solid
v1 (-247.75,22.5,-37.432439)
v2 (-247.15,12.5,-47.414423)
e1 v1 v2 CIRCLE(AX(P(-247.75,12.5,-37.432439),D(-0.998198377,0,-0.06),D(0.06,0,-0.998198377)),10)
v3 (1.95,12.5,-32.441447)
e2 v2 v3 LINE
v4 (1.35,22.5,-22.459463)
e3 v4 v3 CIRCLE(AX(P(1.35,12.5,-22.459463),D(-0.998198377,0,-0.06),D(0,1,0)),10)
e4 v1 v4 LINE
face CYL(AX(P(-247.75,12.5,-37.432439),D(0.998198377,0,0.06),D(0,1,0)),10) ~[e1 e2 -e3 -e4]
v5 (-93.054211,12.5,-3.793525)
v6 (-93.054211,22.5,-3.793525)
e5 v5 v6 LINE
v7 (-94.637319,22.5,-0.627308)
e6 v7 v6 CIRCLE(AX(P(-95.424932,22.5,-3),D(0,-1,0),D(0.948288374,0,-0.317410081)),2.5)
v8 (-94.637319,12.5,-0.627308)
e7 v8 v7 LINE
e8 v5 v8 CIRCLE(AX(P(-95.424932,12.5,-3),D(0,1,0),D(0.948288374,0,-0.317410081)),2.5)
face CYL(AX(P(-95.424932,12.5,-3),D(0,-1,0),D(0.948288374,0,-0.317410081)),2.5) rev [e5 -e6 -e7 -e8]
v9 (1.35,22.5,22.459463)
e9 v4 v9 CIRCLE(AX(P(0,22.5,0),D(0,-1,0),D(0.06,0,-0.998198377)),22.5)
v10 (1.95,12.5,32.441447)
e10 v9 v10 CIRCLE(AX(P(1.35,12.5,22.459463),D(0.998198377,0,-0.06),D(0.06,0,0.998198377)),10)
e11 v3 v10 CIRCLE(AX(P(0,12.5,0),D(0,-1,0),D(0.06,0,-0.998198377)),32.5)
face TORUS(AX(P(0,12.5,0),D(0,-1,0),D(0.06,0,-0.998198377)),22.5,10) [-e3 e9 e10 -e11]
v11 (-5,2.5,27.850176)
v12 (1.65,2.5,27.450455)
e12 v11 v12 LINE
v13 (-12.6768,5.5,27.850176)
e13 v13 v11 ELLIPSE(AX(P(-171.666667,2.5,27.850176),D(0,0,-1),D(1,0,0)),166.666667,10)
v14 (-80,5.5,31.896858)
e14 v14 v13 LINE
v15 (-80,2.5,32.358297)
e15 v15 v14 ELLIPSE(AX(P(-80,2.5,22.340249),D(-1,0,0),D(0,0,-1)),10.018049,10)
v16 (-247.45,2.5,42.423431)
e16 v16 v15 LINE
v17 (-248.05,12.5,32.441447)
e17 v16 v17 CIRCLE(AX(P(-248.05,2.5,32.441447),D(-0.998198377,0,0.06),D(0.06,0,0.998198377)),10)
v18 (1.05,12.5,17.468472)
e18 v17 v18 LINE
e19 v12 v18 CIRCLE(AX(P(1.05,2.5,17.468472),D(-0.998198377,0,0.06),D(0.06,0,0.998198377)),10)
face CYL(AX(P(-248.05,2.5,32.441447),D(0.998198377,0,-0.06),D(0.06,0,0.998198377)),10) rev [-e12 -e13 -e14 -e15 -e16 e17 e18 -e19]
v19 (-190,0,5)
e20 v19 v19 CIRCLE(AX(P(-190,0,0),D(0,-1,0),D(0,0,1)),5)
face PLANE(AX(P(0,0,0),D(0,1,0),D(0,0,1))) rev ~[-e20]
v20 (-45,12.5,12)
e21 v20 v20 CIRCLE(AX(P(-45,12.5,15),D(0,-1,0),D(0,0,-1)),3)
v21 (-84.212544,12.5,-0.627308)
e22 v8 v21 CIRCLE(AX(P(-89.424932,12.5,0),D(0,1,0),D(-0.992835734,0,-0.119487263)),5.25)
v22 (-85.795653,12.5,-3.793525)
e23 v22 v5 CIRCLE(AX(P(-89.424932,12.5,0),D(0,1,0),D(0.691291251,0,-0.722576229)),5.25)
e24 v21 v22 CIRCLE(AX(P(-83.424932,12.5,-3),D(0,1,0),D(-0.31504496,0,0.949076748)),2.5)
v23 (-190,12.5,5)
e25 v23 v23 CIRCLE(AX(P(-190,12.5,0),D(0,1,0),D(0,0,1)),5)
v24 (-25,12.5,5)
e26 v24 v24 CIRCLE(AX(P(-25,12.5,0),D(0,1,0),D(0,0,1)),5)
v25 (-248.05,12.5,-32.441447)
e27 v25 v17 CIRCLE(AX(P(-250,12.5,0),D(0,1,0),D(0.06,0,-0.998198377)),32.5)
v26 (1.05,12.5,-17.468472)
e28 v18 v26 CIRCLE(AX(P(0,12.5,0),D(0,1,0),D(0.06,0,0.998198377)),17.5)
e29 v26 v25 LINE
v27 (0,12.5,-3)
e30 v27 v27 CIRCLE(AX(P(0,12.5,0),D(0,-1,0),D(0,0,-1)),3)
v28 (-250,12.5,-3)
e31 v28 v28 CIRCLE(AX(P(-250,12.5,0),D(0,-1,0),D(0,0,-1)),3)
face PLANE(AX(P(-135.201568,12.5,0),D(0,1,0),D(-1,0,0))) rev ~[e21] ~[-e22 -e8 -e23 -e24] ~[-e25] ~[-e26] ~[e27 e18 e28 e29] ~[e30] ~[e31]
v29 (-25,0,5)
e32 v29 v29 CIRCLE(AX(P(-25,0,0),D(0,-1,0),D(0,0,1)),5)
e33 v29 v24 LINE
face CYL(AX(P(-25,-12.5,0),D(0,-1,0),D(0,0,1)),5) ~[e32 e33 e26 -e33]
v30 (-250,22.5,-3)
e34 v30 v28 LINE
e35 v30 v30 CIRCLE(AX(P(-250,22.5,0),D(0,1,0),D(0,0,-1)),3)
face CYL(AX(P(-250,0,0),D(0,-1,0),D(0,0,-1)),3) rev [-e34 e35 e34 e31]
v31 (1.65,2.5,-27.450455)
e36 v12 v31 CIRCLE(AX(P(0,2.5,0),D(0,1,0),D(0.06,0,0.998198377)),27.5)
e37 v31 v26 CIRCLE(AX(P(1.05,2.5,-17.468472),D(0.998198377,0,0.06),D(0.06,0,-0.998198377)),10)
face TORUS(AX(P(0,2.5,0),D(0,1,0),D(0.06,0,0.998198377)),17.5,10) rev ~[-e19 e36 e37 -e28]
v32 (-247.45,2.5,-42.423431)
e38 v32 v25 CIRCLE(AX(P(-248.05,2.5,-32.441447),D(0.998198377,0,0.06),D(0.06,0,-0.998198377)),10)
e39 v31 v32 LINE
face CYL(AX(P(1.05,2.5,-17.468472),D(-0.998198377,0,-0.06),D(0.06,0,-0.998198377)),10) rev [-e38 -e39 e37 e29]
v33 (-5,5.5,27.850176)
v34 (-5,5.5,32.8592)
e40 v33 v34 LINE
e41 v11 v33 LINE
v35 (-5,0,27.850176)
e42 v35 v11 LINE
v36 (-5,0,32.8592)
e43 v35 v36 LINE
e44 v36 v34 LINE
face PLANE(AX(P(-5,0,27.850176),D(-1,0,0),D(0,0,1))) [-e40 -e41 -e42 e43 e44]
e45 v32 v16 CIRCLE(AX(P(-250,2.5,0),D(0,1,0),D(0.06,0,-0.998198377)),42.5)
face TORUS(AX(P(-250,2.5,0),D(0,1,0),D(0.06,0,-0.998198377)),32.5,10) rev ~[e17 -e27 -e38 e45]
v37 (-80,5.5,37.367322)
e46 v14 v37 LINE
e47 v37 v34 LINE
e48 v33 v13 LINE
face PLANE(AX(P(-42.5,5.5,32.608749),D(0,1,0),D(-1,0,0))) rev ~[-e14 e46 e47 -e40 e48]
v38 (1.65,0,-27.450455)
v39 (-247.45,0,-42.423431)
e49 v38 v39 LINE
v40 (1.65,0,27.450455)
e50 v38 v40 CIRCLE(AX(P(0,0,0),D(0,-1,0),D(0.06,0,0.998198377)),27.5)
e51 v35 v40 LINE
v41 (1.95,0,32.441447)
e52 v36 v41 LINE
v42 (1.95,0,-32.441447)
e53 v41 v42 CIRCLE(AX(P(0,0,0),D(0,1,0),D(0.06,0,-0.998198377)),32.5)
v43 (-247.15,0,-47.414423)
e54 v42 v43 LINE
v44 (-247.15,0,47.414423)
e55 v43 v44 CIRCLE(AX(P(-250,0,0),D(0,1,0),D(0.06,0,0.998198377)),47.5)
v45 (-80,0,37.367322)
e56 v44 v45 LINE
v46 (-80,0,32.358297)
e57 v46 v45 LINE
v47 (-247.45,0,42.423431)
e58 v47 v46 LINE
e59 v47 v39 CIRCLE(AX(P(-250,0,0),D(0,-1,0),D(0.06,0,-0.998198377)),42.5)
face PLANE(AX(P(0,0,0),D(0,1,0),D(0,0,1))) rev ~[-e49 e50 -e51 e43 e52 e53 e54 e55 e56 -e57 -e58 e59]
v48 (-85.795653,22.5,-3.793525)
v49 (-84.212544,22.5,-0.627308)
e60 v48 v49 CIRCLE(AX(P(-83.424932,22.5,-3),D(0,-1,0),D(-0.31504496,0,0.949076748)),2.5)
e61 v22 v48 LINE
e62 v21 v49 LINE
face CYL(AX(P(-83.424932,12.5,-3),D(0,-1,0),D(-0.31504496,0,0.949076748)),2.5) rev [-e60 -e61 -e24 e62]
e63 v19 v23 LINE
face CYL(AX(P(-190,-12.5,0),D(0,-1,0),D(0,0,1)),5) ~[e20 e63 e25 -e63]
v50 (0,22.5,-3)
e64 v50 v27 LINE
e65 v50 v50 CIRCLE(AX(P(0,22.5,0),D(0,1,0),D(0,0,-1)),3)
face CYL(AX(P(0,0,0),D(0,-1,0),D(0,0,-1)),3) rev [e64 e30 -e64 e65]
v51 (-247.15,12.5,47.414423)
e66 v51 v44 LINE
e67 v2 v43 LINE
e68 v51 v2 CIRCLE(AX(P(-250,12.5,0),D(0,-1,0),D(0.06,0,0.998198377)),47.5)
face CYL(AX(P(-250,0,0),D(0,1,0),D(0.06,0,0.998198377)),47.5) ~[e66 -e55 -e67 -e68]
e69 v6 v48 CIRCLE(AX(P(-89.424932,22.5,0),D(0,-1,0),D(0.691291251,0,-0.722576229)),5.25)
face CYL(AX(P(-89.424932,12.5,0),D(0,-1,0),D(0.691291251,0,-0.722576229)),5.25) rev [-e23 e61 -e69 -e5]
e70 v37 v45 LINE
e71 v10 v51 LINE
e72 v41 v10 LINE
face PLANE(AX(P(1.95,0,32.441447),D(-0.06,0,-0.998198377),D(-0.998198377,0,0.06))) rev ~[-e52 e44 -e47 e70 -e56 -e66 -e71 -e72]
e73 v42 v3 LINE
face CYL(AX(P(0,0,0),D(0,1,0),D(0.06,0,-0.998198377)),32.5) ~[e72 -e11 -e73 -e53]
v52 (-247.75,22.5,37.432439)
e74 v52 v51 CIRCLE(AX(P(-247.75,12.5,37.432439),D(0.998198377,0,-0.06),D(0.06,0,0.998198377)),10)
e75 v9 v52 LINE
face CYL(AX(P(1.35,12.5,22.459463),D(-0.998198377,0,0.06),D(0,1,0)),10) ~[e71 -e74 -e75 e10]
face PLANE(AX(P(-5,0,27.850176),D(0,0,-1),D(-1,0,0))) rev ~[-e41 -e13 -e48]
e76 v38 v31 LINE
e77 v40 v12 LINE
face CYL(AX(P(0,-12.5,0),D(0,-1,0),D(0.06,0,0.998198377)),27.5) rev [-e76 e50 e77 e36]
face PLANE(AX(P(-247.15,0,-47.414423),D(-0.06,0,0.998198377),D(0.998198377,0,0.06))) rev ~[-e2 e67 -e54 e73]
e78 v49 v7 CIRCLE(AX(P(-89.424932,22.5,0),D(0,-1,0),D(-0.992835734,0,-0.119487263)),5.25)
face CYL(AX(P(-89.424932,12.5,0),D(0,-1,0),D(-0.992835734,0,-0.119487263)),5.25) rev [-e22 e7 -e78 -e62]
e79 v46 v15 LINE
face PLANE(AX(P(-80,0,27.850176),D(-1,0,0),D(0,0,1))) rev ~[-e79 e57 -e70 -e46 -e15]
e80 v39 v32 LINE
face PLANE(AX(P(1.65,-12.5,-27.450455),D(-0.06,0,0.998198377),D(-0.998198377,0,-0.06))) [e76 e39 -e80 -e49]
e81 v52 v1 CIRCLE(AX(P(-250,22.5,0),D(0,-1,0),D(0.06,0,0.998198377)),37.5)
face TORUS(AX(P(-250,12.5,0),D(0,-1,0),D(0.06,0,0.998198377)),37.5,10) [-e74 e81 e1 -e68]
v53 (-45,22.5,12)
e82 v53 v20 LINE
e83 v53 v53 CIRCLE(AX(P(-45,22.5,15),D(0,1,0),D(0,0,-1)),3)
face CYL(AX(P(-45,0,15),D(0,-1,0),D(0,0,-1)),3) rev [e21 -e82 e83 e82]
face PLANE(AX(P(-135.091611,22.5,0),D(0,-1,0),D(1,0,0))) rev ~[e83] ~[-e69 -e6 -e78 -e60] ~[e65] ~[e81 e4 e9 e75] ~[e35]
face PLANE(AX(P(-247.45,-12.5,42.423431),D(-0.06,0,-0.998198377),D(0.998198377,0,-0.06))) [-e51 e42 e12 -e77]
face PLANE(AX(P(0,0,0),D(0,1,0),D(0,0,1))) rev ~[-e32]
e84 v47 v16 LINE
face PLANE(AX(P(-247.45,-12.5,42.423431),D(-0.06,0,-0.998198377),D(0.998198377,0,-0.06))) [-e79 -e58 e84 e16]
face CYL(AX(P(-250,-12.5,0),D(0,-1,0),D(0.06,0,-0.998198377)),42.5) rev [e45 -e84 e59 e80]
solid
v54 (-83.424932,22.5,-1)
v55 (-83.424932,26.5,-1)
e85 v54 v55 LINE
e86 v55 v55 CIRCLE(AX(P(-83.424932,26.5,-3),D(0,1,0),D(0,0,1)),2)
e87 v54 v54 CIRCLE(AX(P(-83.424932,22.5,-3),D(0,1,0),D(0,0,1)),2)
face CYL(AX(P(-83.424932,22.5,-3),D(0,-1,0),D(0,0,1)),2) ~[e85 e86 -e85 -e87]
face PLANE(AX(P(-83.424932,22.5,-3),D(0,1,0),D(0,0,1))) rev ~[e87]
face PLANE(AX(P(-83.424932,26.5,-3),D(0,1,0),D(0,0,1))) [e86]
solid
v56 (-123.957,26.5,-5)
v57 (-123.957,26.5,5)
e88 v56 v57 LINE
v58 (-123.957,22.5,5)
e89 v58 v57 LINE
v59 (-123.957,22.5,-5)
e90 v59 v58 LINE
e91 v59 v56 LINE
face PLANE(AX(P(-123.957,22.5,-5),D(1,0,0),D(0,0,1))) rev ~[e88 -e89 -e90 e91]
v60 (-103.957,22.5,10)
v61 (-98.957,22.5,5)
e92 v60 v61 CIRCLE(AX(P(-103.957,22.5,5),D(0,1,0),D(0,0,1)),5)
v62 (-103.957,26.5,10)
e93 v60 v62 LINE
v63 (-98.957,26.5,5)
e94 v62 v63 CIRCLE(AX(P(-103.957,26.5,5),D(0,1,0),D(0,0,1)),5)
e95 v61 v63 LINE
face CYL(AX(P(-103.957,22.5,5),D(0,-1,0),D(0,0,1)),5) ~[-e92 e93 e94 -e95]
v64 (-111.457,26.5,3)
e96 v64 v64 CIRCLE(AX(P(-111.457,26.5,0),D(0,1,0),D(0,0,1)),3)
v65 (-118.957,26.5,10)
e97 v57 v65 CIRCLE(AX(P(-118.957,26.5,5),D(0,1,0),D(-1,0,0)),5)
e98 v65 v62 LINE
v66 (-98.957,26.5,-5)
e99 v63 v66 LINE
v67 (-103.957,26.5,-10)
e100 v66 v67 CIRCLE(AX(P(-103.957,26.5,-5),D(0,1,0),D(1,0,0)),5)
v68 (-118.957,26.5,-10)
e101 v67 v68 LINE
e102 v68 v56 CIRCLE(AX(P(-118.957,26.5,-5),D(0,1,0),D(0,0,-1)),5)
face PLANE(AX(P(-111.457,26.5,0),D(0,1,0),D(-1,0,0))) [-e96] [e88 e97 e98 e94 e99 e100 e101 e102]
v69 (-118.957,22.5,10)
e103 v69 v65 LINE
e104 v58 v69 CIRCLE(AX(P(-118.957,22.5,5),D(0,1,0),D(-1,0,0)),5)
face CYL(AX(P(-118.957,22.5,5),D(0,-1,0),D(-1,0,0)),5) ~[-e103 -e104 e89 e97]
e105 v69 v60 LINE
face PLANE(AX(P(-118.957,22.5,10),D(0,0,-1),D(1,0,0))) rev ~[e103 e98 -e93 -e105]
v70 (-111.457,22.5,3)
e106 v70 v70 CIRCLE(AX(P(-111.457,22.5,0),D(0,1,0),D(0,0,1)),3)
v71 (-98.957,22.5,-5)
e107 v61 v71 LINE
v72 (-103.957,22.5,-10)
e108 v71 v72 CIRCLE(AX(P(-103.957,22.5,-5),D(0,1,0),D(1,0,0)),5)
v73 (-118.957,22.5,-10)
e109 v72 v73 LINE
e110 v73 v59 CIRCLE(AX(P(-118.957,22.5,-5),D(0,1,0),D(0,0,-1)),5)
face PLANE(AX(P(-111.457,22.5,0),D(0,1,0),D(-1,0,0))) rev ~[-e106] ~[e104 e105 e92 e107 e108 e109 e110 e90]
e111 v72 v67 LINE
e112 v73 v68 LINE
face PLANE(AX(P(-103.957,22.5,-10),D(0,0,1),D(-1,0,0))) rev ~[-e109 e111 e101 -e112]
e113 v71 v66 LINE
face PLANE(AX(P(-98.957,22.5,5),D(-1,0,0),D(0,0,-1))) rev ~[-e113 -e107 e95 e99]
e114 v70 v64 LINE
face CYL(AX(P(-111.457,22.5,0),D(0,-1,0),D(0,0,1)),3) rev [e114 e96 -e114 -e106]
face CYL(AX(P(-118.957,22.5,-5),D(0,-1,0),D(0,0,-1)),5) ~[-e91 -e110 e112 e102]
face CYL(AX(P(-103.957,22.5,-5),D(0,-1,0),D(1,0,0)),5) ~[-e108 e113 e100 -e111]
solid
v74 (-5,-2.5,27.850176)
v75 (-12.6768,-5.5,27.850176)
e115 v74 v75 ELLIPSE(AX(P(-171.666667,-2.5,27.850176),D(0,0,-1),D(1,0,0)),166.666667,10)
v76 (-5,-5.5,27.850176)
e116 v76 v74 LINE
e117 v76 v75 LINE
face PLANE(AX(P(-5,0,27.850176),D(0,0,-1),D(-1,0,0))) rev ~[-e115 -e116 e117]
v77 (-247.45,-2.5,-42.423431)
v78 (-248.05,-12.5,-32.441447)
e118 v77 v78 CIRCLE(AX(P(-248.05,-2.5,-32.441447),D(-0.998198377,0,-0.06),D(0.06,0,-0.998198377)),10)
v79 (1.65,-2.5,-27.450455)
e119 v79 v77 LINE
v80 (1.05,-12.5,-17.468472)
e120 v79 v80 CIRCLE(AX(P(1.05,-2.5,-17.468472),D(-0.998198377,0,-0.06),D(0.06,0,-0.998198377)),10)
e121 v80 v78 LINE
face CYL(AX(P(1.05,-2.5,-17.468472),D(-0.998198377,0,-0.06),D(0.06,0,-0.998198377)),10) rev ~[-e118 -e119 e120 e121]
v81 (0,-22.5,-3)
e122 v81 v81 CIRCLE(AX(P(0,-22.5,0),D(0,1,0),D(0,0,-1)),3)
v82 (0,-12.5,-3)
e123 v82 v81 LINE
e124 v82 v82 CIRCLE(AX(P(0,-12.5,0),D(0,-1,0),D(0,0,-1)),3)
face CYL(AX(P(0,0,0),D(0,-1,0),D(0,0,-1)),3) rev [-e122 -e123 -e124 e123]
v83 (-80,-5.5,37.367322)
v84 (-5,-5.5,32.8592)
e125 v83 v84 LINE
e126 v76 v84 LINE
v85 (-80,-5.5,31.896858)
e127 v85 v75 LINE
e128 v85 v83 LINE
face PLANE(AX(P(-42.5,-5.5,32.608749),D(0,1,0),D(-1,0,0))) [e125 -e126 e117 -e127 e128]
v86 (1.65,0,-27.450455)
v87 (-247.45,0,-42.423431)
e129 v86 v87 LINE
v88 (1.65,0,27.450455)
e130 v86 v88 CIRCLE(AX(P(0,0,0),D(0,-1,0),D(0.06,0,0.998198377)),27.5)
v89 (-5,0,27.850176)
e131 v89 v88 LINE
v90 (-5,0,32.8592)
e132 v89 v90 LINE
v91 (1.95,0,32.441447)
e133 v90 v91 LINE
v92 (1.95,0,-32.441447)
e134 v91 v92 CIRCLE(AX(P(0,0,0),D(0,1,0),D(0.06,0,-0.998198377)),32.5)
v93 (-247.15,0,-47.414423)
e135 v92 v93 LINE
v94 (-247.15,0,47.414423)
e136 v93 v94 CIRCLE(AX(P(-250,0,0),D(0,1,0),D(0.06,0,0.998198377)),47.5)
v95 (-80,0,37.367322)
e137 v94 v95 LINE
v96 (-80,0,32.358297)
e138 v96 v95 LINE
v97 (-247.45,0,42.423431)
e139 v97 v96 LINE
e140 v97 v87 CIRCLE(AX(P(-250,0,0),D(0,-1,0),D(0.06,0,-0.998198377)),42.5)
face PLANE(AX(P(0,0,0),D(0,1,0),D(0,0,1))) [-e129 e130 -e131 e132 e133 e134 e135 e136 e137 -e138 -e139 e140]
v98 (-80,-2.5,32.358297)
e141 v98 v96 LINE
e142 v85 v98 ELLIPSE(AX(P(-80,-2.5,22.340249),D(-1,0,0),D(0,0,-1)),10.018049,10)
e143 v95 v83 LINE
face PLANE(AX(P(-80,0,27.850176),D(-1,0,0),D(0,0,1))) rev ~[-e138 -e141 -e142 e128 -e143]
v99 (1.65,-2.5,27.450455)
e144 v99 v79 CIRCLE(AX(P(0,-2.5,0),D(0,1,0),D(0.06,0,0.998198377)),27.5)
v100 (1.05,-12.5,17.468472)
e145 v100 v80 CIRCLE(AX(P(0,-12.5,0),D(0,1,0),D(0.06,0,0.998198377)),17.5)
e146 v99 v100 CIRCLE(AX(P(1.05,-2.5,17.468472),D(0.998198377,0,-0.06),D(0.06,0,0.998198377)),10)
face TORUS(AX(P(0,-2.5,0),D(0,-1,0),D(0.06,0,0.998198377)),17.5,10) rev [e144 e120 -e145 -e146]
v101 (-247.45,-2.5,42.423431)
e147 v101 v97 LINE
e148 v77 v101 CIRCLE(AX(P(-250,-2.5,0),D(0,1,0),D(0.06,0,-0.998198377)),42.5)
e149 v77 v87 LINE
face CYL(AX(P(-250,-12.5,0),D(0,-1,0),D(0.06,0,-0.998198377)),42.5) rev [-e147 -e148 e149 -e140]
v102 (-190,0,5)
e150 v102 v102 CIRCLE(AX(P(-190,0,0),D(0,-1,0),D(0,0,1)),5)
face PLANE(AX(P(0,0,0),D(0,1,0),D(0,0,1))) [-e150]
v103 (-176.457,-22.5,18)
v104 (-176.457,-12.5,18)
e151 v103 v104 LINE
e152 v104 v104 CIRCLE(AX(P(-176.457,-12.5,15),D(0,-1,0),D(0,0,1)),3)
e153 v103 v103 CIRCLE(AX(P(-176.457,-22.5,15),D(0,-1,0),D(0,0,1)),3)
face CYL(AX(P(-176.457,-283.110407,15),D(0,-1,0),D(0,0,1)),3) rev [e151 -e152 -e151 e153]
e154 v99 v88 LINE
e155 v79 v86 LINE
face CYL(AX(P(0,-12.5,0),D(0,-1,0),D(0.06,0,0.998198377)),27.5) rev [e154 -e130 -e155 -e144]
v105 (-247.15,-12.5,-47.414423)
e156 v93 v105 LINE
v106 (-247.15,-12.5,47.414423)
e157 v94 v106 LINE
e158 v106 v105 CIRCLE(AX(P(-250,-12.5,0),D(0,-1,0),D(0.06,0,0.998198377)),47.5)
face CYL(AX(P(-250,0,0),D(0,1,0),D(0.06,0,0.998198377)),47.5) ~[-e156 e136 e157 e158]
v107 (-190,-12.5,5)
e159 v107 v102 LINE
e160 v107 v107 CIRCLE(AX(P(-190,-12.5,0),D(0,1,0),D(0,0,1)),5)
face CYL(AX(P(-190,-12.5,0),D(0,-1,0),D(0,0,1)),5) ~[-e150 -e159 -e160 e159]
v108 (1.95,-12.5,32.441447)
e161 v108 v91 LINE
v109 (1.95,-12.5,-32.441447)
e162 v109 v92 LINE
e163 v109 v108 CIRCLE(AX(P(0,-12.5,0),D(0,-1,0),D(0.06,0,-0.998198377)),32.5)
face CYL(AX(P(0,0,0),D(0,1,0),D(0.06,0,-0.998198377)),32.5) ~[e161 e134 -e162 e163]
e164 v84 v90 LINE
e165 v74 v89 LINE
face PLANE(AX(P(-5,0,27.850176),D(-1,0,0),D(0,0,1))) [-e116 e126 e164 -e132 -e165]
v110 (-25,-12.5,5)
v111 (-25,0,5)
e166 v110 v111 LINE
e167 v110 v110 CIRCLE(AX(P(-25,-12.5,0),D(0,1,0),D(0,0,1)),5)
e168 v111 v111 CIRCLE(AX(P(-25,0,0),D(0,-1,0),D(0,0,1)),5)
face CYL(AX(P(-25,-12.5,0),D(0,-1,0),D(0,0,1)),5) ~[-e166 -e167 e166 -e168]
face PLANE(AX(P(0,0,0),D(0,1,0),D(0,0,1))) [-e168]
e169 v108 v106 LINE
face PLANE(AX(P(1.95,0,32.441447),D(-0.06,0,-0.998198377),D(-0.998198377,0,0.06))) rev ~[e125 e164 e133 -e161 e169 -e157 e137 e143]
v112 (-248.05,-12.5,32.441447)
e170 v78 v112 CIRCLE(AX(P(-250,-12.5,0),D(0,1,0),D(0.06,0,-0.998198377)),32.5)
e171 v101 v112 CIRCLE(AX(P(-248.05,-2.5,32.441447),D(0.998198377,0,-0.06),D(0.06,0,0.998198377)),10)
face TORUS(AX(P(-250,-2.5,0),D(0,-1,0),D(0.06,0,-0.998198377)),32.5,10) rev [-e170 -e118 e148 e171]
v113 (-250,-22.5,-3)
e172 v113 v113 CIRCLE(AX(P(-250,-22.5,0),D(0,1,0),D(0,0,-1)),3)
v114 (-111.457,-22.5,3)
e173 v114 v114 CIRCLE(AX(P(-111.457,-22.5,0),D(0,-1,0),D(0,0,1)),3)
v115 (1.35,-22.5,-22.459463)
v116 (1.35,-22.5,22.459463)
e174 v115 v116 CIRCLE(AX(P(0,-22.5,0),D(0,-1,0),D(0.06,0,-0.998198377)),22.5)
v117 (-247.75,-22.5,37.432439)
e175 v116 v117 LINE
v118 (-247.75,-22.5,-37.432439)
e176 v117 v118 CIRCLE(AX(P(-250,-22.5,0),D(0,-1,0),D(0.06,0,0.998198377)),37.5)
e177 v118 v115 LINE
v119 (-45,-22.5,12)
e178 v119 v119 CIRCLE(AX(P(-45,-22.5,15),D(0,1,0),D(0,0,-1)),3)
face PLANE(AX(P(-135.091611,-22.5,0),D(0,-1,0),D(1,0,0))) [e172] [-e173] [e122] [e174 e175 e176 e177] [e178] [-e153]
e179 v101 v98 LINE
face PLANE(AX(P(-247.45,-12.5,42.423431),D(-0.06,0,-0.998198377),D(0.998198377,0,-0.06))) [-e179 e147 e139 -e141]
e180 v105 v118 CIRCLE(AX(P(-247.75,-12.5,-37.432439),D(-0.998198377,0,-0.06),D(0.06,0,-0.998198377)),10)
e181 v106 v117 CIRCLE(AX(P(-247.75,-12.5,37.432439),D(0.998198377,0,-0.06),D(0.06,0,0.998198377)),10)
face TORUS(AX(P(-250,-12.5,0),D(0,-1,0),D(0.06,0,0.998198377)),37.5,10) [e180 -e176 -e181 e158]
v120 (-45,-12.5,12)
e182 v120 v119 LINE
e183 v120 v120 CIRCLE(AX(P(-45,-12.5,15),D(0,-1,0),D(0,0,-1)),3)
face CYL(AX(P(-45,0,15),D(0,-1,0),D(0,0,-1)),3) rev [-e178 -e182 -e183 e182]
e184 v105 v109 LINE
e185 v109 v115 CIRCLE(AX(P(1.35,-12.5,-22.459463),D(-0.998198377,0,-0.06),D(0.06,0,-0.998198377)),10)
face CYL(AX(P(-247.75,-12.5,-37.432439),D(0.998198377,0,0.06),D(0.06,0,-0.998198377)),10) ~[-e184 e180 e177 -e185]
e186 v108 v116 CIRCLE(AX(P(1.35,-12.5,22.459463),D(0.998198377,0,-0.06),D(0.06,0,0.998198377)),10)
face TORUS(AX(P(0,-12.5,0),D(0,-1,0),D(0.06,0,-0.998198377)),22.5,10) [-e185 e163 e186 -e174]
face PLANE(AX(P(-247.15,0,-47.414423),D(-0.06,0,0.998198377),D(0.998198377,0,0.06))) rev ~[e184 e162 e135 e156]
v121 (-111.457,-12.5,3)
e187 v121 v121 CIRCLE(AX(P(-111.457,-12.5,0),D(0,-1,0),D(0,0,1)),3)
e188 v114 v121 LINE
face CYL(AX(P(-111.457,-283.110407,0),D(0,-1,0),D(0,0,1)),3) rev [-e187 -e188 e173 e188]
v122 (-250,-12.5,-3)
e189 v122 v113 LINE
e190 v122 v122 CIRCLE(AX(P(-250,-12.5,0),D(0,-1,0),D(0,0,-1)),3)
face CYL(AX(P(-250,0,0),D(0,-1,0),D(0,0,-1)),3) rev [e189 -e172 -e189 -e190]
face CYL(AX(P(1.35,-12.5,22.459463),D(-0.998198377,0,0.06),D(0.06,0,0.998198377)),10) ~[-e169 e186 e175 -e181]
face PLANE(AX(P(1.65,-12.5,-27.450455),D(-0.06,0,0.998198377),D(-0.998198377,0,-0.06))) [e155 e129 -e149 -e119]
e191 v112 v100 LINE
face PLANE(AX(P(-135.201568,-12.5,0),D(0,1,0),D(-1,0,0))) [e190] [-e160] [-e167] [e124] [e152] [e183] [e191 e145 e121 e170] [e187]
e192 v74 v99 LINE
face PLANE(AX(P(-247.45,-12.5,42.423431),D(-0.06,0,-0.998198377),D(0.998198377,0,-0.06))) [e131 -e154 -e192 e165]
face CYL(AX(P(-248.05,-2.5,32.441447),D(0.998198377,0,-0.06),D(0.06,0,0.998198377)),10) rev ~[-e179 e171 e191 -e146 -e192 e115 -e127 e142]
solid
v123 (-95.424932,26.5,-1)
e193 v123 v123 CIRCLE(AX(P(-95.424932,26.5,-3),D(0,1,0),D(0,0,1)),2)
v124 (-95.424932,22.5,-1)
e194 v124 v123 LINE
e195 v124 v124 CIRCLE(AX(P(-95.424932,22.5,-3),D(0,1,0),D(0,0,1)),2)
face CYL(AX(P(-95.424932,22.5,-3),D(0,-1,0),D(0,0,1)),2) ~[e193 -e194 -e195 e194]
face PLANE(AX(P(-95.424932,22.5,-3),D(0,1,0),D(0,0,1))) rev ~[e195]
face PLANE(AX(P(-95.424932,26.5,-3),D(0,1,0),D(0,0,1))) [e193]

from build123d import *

# Parameters (mm, degrees)
CROQUIS1_R                 = 3
SALIENTE_EXTRUIR1_DEPTH    = 22.5
CORTAR_EXTRUIR1_DEPTH      = 12.5
CORTAR_EXTRUIR1_DEPTH_BACK = 12.5
CROQUIS2_R                 = 5
REDONDEO4_R                = 10
REDONDEO5_R                = 10
CROQUIS4_W                 = 75
CROQUIS4_H                 = 9.517146309
CORTAR_EXTRUIR2_DEPTH      = 5.5
CORTAR_EXTRUIR3_DEPTH      = 305.610407027
CORTAR_EXTRUIR3_DEPTH_BACK = 305.610407027
CROQUIS5_R                 = 3
CORTAR_EXTRUIR4_DEPTH      = 305.610407027
CORTAR_EXTRUIR4_DEPTH_BACK = 10
CROQUIS8_R                 = 2
SALIENTE_EXTRUIR2_DEPTH    = 4
SALIENTE_EXTRUIR2_2_DEPTH  = 4
CROQUIS8_R_2               = 3
SALIENTE_EXTRUIR2_3_DEPTH  = 4


with BuildPart() as part:
    # Croquis1 → Saliente-Extruir1 (new, symmetric)
    with BuildSketch(Plane(origin=(0, 0, 0), x_dir=(-1, 0, 0), z_dir=(0, 1, 0))):
        with BuildLine():
            Line((-1.95, 32.441447255), (247.15, 47.414422911))
            ThreePointArc((247.15, 47.414422911), (297.5, 0), (247.15, -47.414422911))
            Line((247.15, -47.414422911), (-1.95, -32.441447255))
            ThreePointArc((-1.95, -32.441447255), (-32.5, 0), (-1.95, 32.441447255))
        make_face()
        with Locations(Location((0, 0, 0), (0, 0, 270))):
            Circle(CROQUIS1_R, mode=Mode.SUBTRACT)
        with Locations(Location((250, 0, 0), (0, 0, 270))):
            Circle(CROQUIS1_R, mode=Mode.SUBTRACT)
        with Locations(Location((45, 15, 0), (0, 0, 270))):
            Circle(CROQUIS1_R, mode=Mode.SUBTRACT)
    extrude(amount=SALIENTE_EXTRUIR1_DEPTH, both=True)

    # Croquis2 → Cortar-Extruir1 (cut, two sides: drawn at the far end of the back side and taken through both)
    with BuildSketch(Plane(origin=(0, 0, 0), x_dir=(-1, 0, 0), z_dir=(0, 1, 0)).offset(-CORTAR_EXTRUIR1_DEPTH_BACK)):
        with BuildLine():
            Line((-1.65, -27.45045537), (247.45, -42.423431026))
            ThreePointArc((247.45, -42.423431026), (292.5, 0), (247.45, 42.423431026))
            Line((247.45, 42.423431026), (-1.65, 27.45045537))
            ThreePointArc((-1.65, 27.45045537), (-27.5, 0), (-1.65, -27.45045537))
        make_face()
        with Locations(Location((190, 0, 0), (0, 0, 90))):
            Circle(CROQUIS2_R, mode=Mode.SUBTRACT)
        with Locations(Location((25, 0, 0), (0, 0, 90))):
            Circle(CROQUIS2_R, mode=Mode.SUBTRACT)
    extrude(amount=CORTAR_EXTRUIR1_DEPTH + CORTAR_EXTRUIR1_DEPTH_BACK, mode=Mode.SUBTRACT)


with BuildPart() as body_2:
    # Partir1: the piece on the far side of the plane
    add(part.part)
    split(bisect_by=Plane.ZX, keep=Keep.BOTTOM)

    # Redondeo5
    redondeo5_edges = [body_2.edges().sort_by_distance(p)[0] for p in [
        (-292.5, -12.5, 0),
        (-122.9, -12.5, 34.936943198),
        (27.5, -12.5, 0),
        (-122.9, -12.5, -34.936943198),
        (32.5, -22.5, 0),
        (-122.6, -22.5, -39.927935083),
        (-297.5, -22.5, 0),
        (-122.6, -22.5, 39.927935083),
    ]]
    fillet(redondeo5_edges, radius=REDONDEO5_R)


with BuildPart() as part_1:
    add(part.part)

    # Partir1
    split(bisect_by=Plane.ZX, keep=Keep.TOP)

    # Redondeo4
    redondeo4_edges = [part_1.edges().sort_by_distance(p)[0] for p in [
        (-297.5, 22.5, 0),
        (-122.6, 22.5, 39.927935083),
        (-122.9, 12.5, 34.936943198),
        (27.5, 12.5, 0),
        (-122.9, 12.5, -34.936943198),
        (-292.5, 12.5, 0),
        (32.5, 22.5, 0),
        (-122.6, 22.5, -39.927935083),
    ]]
    fillet(redondeo4_edges, radius=REDONDEO4_R)


with BuildPart() as cortar_extruir2_tool:
    # Croquis4 → Cortar-Extruir2 (new, symmetric)
    with BuildSketch(Plane(origin=(0, 0, 0), x_dir=(-1, 0, 0), z_dir=(0, 1, 0))):
        with Locations((42.5, 32.60874867)):
            Rectangle(CROQUIS4_W, CROQUIS4_H)
    extrude(amount=CORTAR_EXTRUIR2_DEPTH, both=True)


with BuildPart() as part_2:
    add(part_1.part)

    # Cortar-Extruir2: cut by cortar_extruir2_tool
    add(cortar_extruir2_tool.part, mode=Mode.SUBTRACT)

    # Croquis6 → Cortar-Extruir4 (cut, two sides: drawn at the far end of the back side and taken through both)
    with BuildSketch(Plane(origin=(0, 22.5, 0), x_dir=(-1, 0, 0), z_dir=(0, 1, 0)).offset(-CORTAR_EXTRUIR4_DEPTH_BACK)):
        with BuildLine():
            ThreePointArc((85.79565282, -3.793525203), (89.424931885, -5.25), (93.05421095, -3.793525203))
            ThreePointArc((93.05421095, -3.793525203), (97.660999863, -4.118033989), (94.637319487, -0.62730813))
            ThreePointArc((94.637319487, -0.62730813), (89.424931885, 5.25), (84.212544284, -0.62730813))
            ThreePointArc((84.212544284, -0.62730813), (81.188863908, -4.118033989), (85.79565282, -3.793525203))
        make_face()
    extrude(amount=CORTAR_EXTRUIR4_DEPTH + CORTAR_EXTRUIR4_DEPTH_BACK, mode=Mode.SUBTRACT)


with BuildPart() as body_2_1:
    add(body_2.part)

    # Cortar-Extruir2: cut by cortar_extruir2_tool
    add(cortar_extruir2_tool.part, mode=Mode.SUBTRACT)

    # Croquis5 → Cortar-Extruir3 (cut, two sides: drawn at the far end of the back side and taken through both)
    with BuildSketch(Plane(origin=(0, 22.5, 0), x_dir=(-1, 0, 0), z_dir=(0, 1, 0)).offset(-CORTAR_EXTRUIR3_DEPTH_BACK)):
        with Locations(Location((111.457, 0, 0), (0, 0, 90))):
            Circle(CROQUIS5_R)
        with Locations(Location((176.457, 15, 0), (0, 0, 90))):
            Circle(CROQUIS5_R)
    extrude(amount=CORTAR_EXTRUIR3_DEPTH + CORTAR_EXTRUIR3_DEPTH_BACK, mode=Mode.SUBTRACT)


with BuildPart() as body_3:
    # Croquis8 → Saliente-Extruir2 (new body)
    with BuildSketch(Plane(origin=(0, 22.5, 0), x_dir=(-1, 0, 0), z_dir=(0, 1, 0))):
        with Locations(Location((83.424931885, -3, 0), (0, 0, 90))):
            Circle(CROQUIS8_R)
    extrude(amount=SALIENTE_EXTRUIR2_DEPTH)


with BuildPart() as body_4:
    # Croquis8 → Saliente-Extruir2 2 (new body)
    with BuildSketch(Plane(origin=(0, 22.5, 0), x_dir=(-1, 0, 0), z_dir=(0, 1, 0))):
        with Locations(Location((95.424931885, -3, 0), (0, 0, 90))):
            Circle(CROQUIS8_R)
    extrude(amount=SALIENTE_EXTRUIR2_2_DEPTH)


with BuildPart() as body_5:
    # Croquis8 → Saliente-Extruir2 3 (new body)
    with BuildSketch(Plane(origin=(0, 22.5, 0), x_dir=(-1, 0, 0), z_dir=(0, 1, 0))):
        with BuildLine():
            Line((103.957, -10), (118.957, -10))
            ThreePointArc((118.957, -10), (122.492533906, -8.535533906), (123.957, -5))
            Line((123.957, -5), (123.957, 5))
            ThreePointArc((123.957, 5), (122.492533906, 8.535533906), (118.957, 10))
            Line((118.957, 10), (103.957, 10))
            ThreePointArc((103.957, 10), (100.421466094, 8.535533906), (98.957, 5))
            Line((98.957, 5), (98.957, -5))
            ThreePointArc((98.957, -5), (100.421466094, -8.535533906), (103.957, -10))
        make_face()
        with Locations(Location((111.457, 0, 0), (0, 0, 90))):
            Circle(CROQUIS8_R_2, mode=Mode.SUBTRACT)
    extrude(amount=SALIENTE_EXTRUIR2_3_DEPTH)


solid = Compound([part_2.part, body_2_1.part, body_3.part, body_4.part, body_5.part])
